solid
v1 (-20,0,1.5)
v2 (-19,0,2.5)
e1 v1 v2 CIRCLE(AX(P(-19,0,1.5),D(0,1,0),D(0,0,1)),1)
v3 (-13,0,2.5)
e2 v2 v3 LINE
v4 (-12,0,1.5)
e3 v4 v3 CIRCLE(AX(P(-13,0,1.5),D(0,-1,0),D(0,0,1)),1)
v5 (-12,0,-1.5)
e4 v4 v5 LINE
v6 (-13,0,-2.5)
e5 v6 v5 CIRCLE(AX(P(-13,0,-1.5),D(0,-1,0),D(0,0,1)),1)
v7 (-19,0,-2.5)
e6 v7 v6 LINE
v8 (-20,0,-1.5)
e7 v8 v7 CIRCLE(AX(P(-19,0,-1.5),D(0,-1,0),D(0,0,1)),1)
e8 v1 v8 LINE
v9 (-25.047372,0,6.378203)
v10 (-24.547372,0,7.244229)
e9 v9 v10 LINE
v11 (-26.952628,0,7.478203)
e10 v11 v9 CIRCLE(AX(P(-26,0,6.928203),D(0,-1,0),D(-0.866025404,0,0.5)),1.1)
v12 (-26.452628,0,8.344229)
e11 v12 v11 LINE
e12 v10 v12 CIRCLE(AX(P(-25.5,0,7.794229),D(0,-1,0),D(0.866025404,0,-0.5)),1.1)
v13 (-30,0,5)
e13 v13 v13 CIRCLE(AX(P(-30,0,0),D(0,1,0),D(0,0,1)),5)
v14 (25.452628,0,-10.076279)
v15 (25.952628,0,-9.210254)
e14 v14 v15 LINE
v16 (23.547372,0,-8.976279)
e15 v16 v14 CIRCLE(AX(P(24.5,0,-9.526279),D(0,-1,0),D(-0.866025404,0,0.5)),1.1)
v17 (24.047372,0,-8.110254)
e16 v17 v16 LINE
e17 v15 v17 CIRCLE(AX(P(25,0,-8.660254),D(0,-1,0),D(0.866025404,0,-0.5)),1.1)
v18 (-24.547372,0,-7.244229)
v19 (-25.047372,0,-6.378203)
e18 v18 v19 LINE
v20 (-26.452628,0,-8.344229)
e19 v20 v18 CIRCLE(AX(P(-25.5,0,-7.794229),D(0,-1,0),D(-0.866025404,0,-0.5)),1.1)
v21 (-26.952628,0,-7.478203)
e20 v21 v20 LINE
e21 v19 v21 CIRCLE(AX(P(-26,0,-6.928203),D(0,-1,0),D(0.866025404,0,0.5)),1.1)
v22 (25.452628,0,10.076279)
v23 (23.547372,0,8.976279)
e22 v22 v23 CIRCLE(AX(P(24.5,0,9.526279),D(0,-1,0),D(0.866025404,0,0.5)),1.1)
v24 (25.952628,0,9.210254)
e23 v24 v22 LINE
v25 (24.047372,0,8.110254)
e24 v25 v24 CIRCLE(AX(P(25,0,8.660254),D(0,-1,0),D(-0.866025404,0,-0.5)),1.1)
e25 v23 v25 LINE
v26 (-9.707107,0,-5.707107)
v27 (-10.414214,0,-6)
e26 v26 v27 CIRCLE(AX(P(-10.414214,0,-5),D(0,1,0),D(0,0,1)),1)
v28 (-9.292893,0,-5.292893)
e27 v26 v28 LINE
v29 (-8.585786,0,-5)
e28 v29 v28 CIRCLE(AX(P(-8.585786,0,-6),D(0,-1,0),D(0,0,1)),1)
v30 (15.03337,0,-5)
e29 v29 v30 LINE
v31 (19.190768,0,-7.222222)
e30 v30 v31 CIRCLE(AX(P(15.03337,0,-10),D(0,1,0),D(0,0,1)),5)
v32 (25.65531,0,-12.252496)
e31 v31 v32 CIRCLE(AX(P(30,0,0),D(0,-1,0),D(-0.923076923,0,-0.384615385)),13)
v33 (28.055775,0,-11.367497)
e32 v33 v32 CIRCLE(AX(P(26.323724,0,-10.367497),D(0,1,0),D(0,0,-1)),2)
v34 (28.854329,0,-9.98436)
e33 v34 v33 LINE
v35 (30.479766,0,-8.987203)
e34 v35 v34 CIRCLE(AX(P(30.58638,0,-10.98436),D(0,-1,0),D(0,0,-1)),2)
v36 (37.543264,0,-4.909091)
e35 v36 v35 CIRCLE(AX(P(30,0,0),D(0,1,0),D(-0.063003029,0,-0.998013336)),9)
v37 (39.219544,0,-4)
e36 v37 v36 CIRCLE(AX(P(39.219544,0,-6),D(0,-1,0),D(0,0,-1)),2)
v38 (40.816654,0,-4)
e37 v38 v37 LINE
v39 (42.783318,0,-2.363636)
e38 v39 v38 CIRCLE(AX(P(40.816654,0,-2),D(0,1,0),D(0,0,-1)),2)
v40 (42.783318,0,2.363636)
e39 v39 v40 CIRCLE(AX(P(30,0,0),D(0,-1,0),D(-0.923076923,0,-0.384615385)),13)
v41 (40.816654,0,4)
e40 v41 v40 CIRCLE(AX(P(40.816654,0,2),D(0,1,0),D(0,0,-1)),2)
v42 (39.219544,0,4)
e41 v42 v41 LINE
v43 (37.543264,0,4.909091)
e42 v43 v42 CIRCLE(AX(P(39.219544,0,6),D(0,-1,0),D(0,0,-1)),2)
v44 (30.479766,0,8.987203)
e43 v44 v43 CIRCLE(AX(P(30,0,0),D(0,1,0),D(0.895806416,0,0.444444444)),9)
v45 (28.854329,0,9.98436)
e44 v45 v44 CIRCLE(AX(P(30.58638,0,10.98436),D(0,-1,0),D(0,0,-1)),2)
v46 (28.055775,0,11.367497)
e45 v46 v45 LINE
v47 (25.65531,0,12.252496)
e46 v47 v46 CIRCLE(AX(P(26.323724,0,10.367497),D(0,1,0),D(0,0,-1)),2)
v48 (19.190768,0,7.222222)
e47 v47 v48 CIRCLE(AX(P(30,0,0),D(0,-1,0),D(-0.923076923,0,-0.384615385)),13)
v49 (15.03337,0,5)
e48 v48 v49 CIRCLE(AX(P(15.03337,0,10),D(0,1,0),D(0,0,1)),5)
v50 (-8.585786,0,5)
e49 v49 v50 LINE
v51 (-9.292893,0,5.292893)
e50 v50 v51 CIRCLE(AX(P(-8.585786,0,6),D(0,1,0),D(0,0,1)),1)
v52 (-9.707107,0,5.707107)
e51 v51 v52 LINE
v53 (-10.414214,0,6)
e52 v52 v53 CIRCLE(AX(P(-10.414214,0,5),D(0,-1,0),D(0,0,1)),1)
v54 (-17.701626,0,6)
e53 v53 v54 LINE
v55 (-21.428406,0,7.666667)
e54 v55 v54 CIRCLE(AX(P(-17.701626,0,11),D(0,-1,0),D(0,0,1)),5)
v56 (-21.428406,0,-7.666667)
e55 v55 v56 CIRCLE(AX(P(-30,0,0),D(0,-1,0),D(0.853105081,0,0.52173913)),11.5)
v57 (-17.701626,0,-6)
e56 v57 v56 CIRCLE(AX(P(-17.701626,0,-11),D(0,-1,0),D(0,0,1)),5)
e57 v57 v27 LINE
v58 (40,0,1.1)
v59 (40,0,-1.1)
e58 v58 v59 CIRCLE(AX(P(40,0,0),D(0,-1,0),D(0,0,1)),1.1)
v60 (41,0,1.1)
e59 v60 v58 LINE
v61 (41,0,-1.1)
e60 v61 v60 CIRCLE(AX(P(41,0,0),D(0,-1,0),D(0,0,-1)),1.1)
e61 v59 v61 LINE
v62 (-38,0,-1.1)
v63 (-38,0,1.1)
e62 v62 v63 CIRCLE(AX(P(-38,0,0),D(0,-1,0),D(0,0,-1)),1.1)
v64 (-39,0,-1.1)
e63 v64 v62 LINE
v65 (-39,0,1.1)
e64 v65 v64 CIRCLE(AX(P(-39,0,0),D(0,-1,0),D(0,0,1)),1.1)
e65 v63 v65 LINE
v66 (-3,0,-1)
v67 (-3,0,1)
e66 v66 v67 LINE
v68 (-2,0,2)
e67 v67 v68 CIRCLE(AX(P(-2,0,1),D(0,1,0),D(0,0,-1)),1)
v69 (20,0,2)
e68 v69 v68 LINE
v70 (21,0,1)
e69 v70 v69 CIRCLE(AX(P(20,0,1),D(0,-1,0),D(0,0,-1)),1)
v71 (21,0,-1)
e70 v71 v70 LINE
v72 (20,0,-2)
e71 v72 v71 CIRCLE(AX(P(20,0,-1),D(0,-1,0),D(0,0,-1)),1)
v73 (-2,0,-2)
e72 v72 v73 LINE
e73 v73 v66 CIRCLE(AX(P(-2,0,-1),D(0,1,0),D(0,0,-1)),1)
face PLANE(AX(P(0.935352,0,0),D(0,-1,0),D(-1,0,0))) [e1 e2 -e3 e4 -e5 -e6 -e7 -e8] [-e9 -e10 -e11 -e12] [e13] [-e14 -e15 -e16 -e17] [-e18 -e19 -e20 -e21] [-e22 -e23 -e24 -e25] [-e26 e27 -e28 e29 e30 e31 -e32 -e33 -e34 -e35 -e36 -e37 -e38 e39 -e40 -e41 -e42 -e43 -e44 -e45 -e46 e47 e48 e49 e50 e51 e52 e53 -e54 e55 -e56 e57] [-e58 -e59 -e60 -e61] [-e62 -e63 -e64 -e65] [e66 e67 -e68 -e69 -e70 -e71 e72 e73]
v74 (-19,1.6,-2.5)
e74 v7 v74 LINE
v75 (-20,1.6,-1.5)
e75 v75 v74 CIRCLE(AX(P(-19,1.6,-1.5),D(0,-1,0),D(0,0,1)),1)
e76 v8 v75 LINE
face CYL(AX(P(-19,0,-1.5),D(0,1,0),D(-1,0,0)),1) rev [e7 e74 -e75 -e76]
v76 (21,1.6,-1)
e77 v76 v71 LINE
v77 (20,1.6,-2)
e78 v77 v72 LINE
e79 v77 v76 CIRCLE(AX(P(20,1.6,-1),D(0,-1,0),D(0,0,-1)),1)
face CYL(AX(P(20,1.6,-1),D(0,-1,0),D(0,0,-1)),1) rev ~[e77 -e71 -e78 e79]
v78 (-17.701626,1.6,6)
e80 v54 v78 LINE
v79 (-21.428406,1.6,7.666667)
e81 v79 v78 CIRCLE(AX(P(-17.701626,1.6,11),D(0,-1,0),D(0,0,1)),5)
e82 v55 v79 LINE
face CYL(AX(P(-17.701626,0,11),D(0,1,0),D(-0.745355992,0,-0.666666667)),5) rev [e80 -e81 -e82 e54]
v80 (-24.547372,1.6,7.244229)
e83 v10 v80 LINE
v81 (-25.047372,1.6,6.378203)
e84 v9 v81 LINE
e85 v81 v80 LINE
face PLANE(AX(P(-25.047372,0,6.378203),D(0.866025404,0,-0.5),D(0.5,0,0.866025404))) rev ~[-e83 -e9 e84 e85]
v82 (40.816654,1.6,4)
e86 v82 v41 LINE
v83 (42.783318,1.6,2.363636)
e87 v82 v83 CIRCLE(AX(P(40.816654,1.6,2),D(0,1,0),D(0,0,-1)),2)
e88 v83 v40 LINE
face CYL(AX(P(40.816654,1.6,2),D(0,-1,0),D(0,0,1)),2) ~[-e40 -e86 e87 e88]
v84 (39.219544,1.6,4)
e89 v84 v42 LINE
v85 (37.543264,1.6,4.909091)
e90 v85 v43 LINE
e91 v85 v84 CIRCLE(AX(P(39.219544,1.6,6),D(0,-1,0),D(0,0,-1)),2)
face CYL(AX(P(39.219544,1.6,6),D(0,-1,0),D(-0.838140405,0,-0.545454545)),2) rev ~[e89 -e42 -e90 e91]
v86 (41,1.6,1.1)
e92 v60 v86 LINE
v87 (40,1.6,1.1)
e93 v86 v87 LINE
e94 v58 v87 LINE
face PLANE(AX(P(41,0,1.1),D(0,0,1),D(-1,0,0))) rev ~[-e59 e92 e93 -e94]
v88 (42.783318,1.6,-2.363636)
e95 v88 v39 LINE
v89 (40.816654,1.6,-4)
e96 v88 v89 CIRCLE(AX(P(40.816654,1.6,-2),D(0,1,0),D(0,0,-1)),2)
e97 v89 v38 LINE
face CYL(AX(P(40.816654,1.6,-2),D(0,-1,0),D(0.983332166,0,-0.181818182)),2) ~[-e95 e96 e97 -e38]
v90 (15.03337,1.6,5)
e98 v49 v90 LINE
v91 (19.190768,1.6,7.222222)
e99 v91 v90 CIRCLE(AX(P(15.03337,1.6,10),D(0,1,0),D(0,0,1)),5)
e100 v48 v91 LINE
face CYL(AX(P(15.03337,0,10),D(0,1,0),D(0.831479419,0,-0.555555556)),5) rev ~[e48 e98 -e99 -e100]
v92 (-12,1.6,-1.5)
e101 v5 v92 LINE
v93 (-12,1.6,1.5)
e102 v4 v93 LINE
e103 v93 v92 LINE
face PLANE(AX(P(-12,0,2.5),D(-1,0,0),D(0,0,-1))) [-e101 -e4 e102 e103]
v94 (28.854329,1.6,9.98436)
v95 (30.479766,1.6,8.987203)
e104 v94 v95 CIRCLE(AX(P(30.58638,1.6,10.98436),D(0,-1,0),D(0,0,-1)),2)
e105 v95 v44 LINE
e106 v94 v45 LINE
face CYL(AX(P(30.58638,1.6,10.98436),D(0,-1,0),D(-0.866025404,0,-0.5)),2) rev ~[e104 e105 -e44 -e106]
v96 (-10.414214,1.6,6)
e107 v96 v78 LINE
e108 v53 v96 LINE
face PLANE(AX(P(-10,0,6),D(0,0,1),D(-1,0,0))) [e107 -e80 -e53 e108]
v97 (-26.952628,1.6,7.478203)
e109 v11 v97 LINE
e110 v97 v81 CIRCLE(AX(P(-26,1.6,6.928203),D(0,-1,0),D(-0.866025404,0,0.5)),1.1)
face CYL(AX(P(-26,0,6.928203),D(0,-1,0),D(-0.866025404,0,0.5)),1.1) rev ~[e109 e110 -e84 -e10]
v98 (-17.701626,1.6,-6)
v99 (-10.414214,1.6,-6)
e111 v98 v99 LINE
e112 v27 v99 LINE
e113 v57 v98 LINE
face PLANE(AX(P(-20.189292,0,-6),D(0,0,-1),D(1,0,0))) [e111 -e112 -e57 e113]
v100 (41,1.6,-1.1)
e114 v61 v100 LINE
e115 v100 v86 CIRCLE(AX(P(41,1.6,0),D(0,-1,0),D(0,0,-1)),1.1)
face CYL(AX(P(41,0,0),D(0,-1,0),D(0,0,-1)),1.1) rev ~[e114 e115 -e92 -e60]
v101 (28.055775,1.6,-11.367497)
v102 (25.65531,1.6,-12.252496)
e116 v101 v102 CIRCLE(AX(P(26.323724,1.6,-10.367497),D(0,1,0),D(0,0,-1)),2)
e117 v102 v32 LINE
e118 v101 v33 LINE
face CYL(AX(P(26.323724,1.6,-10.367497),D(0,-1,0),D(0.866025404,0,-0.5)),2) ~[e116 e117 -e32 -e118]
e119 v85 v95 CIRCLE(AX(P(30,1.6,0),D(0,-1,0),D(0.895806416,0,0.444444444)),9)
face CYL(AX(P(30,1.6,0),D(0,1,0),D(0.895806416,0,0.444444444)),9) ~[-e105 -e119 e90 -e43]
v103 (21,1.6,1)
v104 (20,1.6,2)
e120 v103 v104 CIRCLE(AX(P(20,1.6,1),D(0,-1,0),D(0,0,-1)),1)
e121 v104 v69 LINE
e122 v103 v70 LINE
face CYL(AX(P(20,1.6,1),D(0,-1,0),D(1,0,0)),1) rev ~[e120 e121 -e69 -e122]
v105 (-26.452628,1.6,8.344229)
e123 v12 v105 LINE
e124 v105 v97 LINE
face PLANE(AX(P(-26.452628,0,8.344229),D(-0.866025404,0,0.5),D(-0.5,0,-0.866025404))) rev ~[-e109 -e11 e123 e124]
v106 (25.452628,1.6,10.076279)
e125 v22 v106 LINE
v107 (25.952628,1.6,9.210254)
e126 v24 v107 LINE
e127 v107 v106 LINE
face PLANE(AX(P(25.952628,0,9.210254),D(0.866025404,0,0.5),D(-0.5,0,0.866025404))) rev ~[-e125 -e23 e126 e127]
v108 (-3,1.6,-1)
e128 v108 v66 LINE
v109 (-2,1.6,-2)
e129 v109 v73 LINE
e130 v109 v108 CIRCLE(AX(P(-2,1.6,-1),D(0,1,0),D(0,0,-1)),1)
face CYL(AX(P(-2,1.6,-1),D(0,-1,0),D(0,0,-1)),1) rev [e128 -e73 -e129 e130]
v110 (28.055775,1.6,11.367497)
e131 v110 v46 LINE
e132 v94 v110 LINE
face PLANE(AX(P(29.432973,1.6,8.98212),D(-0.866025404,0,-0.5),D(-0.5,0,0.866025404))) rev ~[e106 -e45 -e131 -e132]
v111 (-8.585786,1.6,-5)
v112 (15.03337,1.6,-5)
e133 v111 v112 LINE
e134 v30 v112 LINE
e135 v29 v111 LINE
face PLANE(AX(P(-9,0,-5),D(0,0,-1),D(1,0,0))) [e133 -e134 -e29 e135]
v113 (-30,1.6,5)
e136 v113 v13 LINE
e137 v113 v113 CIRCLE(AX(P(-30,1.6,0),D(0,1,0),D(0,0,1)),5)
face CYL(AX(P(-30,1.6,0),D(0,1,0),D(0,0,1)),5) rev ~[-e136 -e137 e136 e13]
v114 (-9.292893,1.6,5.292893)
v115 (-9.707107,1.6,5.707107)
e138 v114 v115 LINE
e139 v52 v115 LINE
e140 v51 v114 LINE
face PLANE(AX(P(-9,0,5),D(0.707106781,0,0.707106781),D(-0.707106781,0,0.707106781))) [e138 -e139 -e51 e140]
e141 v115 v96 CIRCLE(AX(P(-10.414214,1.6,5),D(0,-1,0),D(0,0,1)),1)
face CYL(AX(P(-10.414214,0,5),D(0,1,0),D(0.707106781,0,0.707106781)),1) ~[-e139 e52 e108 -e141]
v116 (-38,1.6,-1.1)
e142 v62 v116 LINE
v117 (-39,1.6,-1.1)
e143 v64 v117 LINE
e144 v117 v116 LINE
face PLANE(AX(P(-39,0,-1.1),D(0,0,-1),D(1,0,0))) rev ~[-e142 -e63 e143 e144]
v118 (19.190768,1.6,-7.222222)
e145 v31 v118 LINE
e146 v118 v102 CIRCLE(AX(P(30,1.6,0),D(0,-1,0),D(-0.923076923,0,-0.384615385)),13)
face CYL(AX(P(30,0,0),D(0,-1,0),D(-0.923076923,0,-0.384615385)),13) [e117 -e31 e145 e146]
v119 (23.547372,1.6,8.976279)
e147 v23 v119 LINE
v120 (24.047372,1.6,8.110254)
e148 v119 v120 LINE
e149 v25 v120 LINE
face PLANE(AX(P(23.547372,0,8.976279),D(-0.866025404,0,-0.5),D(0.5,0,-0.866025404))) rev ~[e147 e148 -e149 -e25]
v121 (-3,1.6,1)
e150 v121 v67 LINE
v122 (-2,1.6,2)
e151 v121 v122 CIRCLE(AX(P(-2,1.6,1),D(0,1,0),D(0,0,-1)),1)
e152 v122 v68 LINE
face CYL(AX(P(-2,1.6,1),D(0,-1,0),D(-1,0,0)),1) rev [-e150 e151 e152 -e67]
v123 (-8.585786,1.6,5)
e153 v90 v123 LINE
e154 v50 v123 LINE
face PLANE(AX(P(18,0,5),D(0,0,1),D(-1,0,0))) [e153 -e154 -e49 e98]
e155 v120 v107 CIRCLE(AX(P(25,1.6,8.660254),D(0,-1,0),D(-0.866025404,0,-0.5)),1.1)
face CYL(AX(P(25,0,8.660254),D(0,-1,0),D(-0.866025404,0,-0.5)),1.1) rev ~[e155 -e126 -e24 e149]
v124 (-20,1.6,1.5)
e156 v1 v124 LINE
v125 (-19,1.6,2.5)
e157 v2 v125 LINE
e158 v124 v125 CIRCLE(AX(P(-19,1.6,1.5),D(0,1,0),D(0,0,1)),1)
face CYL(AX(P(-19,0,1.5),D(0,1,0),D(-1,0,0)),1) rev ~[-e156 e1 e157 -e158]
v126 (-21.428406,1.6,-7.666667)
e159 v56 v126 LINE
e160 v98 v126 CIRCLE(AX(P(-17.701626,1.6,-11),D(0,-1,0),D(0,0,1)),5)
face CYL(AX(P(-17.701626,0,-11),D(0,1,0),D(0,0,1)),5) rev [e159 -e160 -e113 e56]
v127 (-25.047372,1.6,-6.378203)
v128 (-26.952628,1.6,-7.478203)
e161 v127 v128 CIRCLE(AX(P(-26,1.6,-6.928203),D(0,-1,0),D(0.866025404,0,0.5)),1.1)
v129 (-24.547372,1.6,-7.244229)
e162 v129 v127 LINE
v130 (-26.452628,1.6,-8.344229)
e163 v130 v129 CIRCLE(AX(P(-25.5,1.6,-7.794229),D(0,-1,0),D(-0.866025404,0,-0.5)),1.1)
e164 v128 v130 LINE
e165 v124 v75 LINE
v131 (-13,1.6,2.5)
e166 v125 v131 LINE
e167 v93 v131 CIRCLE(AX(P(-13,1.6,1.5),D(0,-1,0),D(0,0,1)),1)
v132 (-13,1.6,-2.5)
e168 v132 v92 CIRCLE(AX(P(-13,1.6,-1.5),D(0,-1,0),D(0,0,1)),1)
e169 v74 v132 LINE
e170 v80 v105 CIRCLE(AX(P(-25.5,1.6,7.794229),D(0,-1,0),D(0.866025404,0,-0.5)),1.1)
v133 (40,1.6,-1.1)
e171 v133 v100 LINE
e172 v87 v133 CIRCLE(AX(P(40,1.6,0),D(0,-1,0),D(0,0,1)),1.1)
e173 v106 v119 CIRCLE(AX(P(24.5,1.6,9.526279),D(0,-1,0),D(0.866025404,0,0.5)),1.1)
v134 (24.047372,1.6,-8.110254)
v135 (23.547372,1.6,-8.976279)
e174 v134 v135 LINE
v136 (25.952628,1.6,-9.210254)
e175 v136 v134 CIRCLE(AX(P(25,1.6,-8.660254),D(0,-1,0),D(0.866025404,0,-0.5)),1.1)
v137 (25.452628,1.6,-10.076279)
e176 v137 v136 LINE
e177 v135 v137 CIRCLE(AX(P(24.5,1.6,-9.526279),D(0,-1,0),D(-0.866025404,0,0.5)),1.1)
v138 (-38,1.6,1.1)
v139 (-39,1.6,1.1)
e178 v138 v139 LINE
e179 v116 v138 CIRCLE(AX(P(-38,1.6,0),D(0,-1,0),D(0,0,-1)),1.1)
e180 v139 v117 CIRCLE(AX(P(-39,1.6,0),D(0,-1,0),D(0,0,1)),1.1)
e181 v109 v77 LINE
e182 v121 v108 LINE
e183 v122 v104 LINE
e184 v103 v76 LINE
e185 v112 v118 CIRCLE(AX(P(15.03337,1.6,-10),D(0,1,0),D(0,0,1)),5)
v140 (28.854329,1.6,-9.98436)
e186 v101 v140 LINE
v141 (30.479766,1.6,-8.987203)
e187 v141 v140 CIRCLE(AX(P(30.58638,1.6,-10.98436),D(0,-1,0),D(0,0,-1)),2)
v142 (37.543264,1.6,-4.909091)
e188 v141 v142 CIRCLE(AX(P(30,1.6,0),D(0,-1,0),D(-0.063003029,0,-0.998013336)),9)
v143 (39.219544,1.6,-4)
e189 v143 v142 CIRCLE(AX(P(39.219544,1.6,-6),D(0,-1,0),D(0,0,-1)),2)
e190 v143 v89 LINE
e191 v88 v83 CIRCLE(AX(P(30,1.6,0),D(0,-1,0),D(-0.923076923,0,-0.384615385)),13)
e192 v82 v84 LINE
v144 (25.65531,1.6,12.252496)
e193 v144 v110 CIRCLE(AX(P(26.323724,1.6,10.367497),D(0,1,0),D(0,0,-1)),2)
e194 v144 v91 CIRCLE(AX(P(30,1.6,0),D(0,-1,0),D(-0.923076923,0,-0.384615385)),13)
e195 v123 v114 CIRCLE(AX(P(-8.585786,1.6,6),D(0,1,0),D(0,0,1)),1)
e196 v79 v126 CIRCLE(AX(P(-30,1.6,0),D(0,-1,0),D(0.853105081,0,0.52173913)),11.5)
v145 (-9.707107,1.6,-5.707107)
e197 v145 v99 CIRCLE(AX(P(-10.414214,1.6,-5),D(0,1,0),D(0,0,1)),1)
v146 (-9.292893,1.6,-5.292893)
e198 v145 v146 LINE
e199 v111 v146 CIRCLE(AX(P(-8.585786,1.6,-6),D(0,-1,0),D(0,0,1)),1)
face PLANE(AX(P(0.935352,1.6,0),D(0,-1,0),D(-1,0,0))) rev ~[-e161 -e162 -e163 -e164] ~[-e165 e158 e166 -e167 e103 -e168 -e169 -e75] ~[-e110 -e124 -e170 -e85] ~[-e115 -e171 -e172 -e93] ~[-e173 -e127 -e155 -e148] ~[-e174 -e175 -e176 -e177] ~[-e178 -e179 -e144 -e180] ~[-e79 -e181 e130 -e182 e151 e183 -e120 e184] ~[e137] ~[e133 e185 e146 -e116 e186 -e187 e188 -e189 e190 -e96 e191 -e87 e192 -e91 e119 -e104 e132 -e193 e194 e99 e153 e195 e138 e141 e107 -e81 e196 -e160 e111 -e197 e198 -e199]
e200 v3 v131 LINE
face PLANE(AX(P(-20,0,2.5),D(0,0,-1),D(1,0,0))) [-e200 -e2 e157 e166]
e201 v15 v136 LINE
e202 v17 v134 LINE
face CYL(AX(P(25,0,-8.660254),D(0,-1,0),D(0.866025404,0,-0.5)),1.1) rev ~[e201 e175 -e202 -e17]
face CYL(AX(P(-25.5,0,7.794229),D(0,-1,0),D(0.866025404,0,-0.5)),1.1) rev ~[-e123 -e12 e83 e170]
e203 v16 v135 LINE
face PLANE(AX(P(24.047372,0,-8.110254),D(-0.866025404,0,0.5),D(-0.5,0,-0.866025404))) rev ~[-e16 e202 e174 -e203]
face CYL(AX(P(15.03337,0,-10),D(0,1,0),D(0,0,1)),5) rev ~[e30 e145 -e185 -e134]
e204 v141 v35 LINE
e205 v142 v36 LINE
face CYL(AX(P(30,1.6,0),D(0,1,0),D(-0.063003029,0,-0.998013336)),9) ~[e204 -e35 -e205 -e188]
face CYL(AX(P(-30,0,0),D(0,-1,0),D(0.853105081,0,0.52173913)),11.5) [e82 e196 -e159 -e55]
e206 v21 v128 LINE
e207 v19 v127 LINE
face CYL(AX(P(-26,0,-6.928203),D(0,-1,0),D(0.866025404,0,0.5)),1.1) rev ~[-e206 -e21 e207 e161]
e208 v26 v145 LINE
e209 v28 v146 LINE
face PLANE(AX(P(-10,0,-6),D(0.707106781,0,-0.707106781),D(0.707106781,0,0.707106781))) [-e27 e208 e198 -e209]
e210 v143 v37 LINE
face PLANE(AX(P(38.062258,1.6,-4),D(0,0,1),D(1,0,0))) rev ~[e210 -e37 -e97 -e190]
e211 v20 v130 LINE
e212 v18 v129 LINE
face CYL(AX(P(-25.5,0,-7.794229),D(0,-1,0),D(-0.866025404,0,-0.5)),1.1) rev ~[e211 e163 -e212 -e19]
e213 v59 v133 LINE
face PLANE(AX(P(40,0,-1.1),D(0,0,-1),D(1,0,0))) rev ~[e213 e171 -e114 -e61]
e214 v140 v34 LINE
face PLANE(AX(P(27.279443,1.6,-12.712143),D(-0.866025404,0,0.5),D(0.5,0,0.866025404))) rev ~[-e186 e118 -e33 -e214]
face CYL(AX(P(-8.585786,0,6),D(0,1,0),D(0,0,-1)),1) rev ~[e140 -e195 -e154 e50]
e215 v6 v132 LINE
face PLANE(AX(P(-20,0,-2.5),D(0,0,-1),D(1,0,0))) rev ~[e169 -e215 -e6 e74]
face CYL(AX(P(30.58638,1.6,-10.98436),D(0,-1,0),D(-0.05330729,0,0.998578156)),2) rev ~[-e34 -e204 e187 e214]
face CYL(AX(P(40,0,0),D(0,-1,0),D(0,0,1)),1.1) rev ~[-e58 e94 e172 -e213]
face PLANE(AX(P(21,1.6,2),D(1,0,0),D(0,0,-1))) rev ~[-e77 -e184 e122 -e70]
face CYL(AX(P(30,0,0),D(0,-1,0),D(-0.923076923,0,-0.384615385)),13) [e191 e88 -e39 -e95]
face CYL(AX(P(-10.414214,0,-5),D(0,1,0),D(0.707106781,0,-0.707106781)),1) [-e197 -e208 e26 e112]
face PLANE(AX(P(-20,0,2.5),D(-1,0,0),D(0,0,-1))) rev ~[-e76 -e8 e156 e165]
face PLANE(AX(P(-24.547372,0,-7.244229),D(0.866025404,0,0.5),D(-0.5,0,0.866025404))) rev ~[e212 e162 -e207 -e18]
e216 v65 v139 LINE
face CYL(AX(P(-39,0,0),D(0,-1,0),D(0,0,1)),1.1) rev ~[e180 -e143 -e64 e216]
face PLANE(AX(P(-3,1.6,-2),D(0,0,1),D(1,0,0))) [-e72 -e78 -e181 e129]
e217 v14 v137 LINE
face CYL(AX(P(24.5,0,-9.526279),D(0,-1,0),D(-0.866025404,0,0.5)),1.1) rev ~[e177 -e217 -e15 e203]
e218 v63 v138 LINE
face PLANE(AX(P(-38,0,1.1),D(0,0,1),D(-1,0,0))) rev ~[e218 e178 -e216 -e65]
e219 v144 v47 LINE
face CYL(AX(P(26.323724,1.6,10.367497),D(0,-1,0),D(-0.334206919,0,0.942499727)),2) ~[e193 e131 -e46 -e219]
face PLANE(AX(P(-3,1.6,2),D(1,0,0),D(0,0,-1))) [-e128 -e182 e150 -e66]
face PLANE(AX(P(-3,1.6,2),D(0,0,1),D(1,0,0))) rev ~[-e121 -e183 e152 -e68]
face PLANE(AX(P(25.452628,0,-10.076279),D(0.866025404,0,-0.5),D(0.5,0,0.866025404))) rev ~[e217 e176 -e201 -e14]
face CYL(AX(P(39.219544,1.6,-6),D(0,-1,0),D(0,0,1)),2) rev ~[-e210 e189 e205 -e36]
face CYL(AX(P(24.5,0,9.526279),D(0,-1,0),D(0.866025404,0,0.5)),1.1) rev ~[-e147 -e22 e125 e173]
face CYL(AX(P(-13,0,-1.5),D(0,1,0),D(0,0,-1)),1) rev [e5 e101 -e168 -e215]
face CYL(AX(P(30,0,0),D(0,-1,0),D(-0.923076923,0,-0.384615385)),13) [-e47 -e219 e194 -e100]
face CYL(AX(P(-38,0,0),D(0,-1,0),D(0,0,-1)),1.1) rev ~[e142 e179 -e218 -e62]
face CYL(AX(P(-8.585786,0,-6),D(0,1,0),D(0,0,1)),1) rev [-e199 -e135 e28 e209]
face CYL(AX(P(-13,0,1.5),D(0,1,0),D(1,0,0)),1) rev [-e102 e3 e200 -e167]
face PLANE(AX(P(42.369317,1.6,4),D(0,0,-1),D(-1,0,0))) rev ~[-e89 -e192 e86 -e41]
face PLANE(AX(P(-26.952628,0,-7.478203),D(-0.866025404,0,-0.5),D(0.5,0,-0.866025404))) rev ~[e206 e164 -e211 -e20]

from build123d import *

# Parameters (mm, degrees)
BOSS_EXTRUDE1_DEPTH = 1.6
CUT_EXTRUDE1_DEPTH  = 45.950639595
CUT_EXTRUDE2_DEPTH  = 45.950639595
FILLET1_R           = 5
SKETCH4_W           = 8
SKETCH4_H           = 5
CUT_EXTRUDE3_DEPTH  = 45.950639595
FILLET2_R           = 1
FILLET3_R           = 1
SKETCH6_W           = 24
SKETCH6_H           = 4
CUT_EXTRUDE4_DEPTH  = 45.950639595
SKETCH7_R           = 5
CUT_EXTRUDE5_DEPTH  = 45.950639595
FILLET4_R           = 1
CUT_EXTRUDE6_DEPTH  = 45.950639595
CIRPATTERN1_COUNT   = 2
CIRPATTERN1_ANGLE   = 120
FILLET5_R           = 2


with BuildPart() as part:
    # Sketch1 → Boss-Extrude1 (new body)
    with BuildSketch(Plane(origin=(0, 0, 0), x_dir=(1, 0, 0), z_dir=(0, 1, 0))):
        with BuildLine():
            Line((-9, 5), (18, 5))
            ThreePointArc((18, 5), (43, 0), (18, -5))
            Line((18, -5), (-9, -5))
            Line((-9, -5), (-10, -6))
            Line((-10, -6), (-20.189291565, -6))
            ThreePointArc((-20.189291565, -6), (-41.5, 0), (-20.189291565, 6))
            Line((-20.189291565, 6), (-10, 6))
            Line((-10, 6), (-9, 5))
        make_face()
    extrude(amount=BOSS_EXTRUDE1_DEPTH)

    # Sketch2 → Cut-Extrude1 (cut, through all)
    with BuildSketch(Plane(origin=(0, 0, 0), x_dir=(1, 0, 0), z_dir=(0, 1, 0))):
        with BuildLine():
            Line((40, 1.1), (41, 1.1))
            ThreePointArc((41, 1.1), (42.1, 0), (41, -1.1))
            Line((41, -1.1), (40, -1.1))
            ThreePointArc((40, -1.1), (38.9, 0), (40, 1.1))
        make_face()
        with BuildLine():
            Line((25.952627944, -9.210254038), (25.452627944, -10.076279442))
            ThreePointArc((25.452627944, -10.076279442), (23.95, -10.478907386), (23.547372056, -8.976279442))
            Line((23.547372056, -8.976279442), (24.047372056, -8.110254038))
            ThreePointArc((24.047372056, -8.110254038), (25.55, -7.707626094), (25.952627944, -9.210254038))
        make_face()
        with BuildLine():
            Line((24.047372056, 8.110254038), (23.547372056, 8.976279442))
            ThreePointArc((23.547372056, 8.976279442), (23.95, 10.478907386), (25.452627944, 10.076279442))
            Line((25.452627944, 10.076279442), (25.952627944, 9.210254038))
            ThreePointArc((25.952627944, 9.210254038), (25.55, 7.707626094), (24.047372056, 8.110254038))
        make_face()
    extrude(amount=CUT_EXTRUDE1_DEPTH, mode=Mode.SUBTRACT)

    # Sketch3 → Cut-Extrude2 (cut, through all)
    with BuildSketch(Plane(origin=(0, 0, 0), x_dir=(1, 0, 0), z_dir=(0, 1, 0))):
        with BuildLine():
            Line((-25.047372056, -6.37820323), (-24.547372056, -7.244228634))
            ThreePointArc((-24.547372056, -7.244228634), (-24.95, -8.746856578), (-26.452627944, -8.344228634))
            Line((-26.452627944, -8.344228634), (-26.952627944, -7.47820323))
            ThreePointArc((-26.952627944, -7.47820323), (-26.55, -5.975575286), (-25.047372056, -6.37820323))
        make_face()
        with BuildLine():
            Line((-38, -1.1), (-39, -1.1))
            ThreePointArc((-39, -1.1), (-40.1, 0), (-39, 1.1))
            Line((-39, 1.1), (-38, 1.1))
            ThreePointArc((-38, 1.1), (-36.9, 0), (-38, -1.1))
        make_face()
        with BuildLine():
            Line((-26.952627944, 7.47820323), (-26.452627944, 8.344228634))
            ThreePointArc((-26.452627944, 8.344228634), (-24.95, 8.746856578), (-24.547372056, 7.244228634))
            Line((-24.547372056, 7.244228634), (-25.047372056, 6.37820323))
            ThreePointArc((-25.047372056, 6.37820323), (-26.55, 5.975575286), (-26.952627944, 7.47820323))
        make_face()
    extrude(amount=CUT_EXTRUDE2_DEPTH, mode=Mode.SUBTRACT)

    # Fillet1
    fillet1_edges = [part.edges().sort_by_distance(p)[0] for p in [
        (18, 0.8, -5),
        (-20.189291565, 0.8, -6),
        (-20.189291565, 0.8, 6),
        (18, 0.8, 5),
    ]]
    fillet(fillet1_edges, radius=FILLET1_R)

    # Sketch4 → Cut-Extrude3 (cut, through all)
    with BuildSketch(Plane(origin=(0, 0, 0), x_dir=(1, 0, 0), z_dir=(0, 1, 0))):
        with Locations((-16, 0)):
            Rectangle(SKETCH4_W, SKETCH4_H)
    extrude(amount=CUT_EXTRUDE3_DEPTH, mode=Mode.SUBTRACT)

    # Fillet2
    fillet2_edges = [part.edges().sort_by_distance(p)[0] for p in [
        (-12, 0.8, 2.5),
        (-12, 0.8, -2.5),
        (-20, 0.8, 2.5),
        (-20, 0.8, -2.5),
    ]]
    fillet(fillet2_edges, radius=FILLET2_R)

    # Fillet3
    fillet3_edges = [part.edges().sort_by_distance(p)[0] for p in [
        (-9, 0.8, -5),
        (-10, 0.8, -6),
        (-10, 0.8, 6),
        (-9, 0.8, 5),
    ]]
    fillet(fillet3_edges, radius=FILLET3_R)

    # Sketch6 → Cut-Extrude4 (cut, through all)
    with BuildSketch(Plane(origin=(0, 1.6, 0), x_dir=(1, 0, 0), z_dir=(0, 1, 0))):
        with Locations((9, 0)):
            Rectangle(SKETCH6_W, SKETCH6_H)
    extrude(amount=-CUT_EXTRUDE4_DEPTH, mode=Mode.SUBTRACT)

    # Sketch7 → Cut-Extrude5 (cut, through all)
    with BuildSketch(Plane(origin=(0, 1.6, 0), x_dir=(1, 0, 0), z_dir=(0, 1, 0))):
        with Locations((-30, 0)):
            Circle(SKETCH7_R)
    extrude(amount=-CUT_EXTRUDE5_DEPTH, mode=Mode.SUBTRACT)

    # Fillet4
    fillet4_edges = [part.edges().sort_by_distance(p)[0] for p in [
        (21, 0.8, -2),
        (21, 0.8, 2),
        (-3, 0.8, 2),
        (-3, 0.8, -2),
    ]]
    fillet(fillet4_edges, radius=FILLET4_R)

    # Sketch8 → Cut-Extrude6 (cut, through all)
    with BuildSketch(Plane(origin=(0, 1.6, 0), x_dir=(1, 0, 0), z_dir=(0, 1, 0))):
        with BuildLine():
            Line((27.279443177, 12.712142643), (29.432972741, 8.982120022))
            ThreePointArc((29.432972741, 8.982120022), (34.5, 7.794228634), (38.062257748, 4))
            Line((38.062257748, 4), (42.369316877, 4))
            ThreePointArc((42.369316877, 4), (36.5, 11.258330249), (27.279443177, 12.712142643))
        make_face()
    cut_extrude6 = extrude(amount=-CUT_EXTRUDE6_DEPTH, mode=Mode.SUBTRACT)

    # CirPattern1: Cut-Extrude6 ×2 about axis
    cirpattern1_axis = Axis((30, -4.392088632, 0), (0, -1, 0))
    for i in range(1, CIRPATTERN1_COUNT):
        add(cut_extrude6.rotate(cirpattern1_axis, i * CIRPATTERN1_ANGLE / (CIRPATTERN1_COUNT - 1)), mode=Mode.SUBTRACT)

    # Fillet5
    fillet5_edges = [part.edges().sort_by_distance(p)[0] for p in [
        (38.062257748, 0.8, 4),
        (42.369316877, 0.8, 4),
        (42.369316877, 0.8, -4),
        (38.062257748, 0.8, -4),
        (29.432972741, 0.8, -8.982120022),
        (27.279443177, 0.8, -12.712142643),
        (27.279443177, 0.8, 12.712142643),
        (29.432972741, 0.8, 8.982120022),
    ]]
    fillet(fillet5_edges, radius=FILLET5_R)


solid = part.part
